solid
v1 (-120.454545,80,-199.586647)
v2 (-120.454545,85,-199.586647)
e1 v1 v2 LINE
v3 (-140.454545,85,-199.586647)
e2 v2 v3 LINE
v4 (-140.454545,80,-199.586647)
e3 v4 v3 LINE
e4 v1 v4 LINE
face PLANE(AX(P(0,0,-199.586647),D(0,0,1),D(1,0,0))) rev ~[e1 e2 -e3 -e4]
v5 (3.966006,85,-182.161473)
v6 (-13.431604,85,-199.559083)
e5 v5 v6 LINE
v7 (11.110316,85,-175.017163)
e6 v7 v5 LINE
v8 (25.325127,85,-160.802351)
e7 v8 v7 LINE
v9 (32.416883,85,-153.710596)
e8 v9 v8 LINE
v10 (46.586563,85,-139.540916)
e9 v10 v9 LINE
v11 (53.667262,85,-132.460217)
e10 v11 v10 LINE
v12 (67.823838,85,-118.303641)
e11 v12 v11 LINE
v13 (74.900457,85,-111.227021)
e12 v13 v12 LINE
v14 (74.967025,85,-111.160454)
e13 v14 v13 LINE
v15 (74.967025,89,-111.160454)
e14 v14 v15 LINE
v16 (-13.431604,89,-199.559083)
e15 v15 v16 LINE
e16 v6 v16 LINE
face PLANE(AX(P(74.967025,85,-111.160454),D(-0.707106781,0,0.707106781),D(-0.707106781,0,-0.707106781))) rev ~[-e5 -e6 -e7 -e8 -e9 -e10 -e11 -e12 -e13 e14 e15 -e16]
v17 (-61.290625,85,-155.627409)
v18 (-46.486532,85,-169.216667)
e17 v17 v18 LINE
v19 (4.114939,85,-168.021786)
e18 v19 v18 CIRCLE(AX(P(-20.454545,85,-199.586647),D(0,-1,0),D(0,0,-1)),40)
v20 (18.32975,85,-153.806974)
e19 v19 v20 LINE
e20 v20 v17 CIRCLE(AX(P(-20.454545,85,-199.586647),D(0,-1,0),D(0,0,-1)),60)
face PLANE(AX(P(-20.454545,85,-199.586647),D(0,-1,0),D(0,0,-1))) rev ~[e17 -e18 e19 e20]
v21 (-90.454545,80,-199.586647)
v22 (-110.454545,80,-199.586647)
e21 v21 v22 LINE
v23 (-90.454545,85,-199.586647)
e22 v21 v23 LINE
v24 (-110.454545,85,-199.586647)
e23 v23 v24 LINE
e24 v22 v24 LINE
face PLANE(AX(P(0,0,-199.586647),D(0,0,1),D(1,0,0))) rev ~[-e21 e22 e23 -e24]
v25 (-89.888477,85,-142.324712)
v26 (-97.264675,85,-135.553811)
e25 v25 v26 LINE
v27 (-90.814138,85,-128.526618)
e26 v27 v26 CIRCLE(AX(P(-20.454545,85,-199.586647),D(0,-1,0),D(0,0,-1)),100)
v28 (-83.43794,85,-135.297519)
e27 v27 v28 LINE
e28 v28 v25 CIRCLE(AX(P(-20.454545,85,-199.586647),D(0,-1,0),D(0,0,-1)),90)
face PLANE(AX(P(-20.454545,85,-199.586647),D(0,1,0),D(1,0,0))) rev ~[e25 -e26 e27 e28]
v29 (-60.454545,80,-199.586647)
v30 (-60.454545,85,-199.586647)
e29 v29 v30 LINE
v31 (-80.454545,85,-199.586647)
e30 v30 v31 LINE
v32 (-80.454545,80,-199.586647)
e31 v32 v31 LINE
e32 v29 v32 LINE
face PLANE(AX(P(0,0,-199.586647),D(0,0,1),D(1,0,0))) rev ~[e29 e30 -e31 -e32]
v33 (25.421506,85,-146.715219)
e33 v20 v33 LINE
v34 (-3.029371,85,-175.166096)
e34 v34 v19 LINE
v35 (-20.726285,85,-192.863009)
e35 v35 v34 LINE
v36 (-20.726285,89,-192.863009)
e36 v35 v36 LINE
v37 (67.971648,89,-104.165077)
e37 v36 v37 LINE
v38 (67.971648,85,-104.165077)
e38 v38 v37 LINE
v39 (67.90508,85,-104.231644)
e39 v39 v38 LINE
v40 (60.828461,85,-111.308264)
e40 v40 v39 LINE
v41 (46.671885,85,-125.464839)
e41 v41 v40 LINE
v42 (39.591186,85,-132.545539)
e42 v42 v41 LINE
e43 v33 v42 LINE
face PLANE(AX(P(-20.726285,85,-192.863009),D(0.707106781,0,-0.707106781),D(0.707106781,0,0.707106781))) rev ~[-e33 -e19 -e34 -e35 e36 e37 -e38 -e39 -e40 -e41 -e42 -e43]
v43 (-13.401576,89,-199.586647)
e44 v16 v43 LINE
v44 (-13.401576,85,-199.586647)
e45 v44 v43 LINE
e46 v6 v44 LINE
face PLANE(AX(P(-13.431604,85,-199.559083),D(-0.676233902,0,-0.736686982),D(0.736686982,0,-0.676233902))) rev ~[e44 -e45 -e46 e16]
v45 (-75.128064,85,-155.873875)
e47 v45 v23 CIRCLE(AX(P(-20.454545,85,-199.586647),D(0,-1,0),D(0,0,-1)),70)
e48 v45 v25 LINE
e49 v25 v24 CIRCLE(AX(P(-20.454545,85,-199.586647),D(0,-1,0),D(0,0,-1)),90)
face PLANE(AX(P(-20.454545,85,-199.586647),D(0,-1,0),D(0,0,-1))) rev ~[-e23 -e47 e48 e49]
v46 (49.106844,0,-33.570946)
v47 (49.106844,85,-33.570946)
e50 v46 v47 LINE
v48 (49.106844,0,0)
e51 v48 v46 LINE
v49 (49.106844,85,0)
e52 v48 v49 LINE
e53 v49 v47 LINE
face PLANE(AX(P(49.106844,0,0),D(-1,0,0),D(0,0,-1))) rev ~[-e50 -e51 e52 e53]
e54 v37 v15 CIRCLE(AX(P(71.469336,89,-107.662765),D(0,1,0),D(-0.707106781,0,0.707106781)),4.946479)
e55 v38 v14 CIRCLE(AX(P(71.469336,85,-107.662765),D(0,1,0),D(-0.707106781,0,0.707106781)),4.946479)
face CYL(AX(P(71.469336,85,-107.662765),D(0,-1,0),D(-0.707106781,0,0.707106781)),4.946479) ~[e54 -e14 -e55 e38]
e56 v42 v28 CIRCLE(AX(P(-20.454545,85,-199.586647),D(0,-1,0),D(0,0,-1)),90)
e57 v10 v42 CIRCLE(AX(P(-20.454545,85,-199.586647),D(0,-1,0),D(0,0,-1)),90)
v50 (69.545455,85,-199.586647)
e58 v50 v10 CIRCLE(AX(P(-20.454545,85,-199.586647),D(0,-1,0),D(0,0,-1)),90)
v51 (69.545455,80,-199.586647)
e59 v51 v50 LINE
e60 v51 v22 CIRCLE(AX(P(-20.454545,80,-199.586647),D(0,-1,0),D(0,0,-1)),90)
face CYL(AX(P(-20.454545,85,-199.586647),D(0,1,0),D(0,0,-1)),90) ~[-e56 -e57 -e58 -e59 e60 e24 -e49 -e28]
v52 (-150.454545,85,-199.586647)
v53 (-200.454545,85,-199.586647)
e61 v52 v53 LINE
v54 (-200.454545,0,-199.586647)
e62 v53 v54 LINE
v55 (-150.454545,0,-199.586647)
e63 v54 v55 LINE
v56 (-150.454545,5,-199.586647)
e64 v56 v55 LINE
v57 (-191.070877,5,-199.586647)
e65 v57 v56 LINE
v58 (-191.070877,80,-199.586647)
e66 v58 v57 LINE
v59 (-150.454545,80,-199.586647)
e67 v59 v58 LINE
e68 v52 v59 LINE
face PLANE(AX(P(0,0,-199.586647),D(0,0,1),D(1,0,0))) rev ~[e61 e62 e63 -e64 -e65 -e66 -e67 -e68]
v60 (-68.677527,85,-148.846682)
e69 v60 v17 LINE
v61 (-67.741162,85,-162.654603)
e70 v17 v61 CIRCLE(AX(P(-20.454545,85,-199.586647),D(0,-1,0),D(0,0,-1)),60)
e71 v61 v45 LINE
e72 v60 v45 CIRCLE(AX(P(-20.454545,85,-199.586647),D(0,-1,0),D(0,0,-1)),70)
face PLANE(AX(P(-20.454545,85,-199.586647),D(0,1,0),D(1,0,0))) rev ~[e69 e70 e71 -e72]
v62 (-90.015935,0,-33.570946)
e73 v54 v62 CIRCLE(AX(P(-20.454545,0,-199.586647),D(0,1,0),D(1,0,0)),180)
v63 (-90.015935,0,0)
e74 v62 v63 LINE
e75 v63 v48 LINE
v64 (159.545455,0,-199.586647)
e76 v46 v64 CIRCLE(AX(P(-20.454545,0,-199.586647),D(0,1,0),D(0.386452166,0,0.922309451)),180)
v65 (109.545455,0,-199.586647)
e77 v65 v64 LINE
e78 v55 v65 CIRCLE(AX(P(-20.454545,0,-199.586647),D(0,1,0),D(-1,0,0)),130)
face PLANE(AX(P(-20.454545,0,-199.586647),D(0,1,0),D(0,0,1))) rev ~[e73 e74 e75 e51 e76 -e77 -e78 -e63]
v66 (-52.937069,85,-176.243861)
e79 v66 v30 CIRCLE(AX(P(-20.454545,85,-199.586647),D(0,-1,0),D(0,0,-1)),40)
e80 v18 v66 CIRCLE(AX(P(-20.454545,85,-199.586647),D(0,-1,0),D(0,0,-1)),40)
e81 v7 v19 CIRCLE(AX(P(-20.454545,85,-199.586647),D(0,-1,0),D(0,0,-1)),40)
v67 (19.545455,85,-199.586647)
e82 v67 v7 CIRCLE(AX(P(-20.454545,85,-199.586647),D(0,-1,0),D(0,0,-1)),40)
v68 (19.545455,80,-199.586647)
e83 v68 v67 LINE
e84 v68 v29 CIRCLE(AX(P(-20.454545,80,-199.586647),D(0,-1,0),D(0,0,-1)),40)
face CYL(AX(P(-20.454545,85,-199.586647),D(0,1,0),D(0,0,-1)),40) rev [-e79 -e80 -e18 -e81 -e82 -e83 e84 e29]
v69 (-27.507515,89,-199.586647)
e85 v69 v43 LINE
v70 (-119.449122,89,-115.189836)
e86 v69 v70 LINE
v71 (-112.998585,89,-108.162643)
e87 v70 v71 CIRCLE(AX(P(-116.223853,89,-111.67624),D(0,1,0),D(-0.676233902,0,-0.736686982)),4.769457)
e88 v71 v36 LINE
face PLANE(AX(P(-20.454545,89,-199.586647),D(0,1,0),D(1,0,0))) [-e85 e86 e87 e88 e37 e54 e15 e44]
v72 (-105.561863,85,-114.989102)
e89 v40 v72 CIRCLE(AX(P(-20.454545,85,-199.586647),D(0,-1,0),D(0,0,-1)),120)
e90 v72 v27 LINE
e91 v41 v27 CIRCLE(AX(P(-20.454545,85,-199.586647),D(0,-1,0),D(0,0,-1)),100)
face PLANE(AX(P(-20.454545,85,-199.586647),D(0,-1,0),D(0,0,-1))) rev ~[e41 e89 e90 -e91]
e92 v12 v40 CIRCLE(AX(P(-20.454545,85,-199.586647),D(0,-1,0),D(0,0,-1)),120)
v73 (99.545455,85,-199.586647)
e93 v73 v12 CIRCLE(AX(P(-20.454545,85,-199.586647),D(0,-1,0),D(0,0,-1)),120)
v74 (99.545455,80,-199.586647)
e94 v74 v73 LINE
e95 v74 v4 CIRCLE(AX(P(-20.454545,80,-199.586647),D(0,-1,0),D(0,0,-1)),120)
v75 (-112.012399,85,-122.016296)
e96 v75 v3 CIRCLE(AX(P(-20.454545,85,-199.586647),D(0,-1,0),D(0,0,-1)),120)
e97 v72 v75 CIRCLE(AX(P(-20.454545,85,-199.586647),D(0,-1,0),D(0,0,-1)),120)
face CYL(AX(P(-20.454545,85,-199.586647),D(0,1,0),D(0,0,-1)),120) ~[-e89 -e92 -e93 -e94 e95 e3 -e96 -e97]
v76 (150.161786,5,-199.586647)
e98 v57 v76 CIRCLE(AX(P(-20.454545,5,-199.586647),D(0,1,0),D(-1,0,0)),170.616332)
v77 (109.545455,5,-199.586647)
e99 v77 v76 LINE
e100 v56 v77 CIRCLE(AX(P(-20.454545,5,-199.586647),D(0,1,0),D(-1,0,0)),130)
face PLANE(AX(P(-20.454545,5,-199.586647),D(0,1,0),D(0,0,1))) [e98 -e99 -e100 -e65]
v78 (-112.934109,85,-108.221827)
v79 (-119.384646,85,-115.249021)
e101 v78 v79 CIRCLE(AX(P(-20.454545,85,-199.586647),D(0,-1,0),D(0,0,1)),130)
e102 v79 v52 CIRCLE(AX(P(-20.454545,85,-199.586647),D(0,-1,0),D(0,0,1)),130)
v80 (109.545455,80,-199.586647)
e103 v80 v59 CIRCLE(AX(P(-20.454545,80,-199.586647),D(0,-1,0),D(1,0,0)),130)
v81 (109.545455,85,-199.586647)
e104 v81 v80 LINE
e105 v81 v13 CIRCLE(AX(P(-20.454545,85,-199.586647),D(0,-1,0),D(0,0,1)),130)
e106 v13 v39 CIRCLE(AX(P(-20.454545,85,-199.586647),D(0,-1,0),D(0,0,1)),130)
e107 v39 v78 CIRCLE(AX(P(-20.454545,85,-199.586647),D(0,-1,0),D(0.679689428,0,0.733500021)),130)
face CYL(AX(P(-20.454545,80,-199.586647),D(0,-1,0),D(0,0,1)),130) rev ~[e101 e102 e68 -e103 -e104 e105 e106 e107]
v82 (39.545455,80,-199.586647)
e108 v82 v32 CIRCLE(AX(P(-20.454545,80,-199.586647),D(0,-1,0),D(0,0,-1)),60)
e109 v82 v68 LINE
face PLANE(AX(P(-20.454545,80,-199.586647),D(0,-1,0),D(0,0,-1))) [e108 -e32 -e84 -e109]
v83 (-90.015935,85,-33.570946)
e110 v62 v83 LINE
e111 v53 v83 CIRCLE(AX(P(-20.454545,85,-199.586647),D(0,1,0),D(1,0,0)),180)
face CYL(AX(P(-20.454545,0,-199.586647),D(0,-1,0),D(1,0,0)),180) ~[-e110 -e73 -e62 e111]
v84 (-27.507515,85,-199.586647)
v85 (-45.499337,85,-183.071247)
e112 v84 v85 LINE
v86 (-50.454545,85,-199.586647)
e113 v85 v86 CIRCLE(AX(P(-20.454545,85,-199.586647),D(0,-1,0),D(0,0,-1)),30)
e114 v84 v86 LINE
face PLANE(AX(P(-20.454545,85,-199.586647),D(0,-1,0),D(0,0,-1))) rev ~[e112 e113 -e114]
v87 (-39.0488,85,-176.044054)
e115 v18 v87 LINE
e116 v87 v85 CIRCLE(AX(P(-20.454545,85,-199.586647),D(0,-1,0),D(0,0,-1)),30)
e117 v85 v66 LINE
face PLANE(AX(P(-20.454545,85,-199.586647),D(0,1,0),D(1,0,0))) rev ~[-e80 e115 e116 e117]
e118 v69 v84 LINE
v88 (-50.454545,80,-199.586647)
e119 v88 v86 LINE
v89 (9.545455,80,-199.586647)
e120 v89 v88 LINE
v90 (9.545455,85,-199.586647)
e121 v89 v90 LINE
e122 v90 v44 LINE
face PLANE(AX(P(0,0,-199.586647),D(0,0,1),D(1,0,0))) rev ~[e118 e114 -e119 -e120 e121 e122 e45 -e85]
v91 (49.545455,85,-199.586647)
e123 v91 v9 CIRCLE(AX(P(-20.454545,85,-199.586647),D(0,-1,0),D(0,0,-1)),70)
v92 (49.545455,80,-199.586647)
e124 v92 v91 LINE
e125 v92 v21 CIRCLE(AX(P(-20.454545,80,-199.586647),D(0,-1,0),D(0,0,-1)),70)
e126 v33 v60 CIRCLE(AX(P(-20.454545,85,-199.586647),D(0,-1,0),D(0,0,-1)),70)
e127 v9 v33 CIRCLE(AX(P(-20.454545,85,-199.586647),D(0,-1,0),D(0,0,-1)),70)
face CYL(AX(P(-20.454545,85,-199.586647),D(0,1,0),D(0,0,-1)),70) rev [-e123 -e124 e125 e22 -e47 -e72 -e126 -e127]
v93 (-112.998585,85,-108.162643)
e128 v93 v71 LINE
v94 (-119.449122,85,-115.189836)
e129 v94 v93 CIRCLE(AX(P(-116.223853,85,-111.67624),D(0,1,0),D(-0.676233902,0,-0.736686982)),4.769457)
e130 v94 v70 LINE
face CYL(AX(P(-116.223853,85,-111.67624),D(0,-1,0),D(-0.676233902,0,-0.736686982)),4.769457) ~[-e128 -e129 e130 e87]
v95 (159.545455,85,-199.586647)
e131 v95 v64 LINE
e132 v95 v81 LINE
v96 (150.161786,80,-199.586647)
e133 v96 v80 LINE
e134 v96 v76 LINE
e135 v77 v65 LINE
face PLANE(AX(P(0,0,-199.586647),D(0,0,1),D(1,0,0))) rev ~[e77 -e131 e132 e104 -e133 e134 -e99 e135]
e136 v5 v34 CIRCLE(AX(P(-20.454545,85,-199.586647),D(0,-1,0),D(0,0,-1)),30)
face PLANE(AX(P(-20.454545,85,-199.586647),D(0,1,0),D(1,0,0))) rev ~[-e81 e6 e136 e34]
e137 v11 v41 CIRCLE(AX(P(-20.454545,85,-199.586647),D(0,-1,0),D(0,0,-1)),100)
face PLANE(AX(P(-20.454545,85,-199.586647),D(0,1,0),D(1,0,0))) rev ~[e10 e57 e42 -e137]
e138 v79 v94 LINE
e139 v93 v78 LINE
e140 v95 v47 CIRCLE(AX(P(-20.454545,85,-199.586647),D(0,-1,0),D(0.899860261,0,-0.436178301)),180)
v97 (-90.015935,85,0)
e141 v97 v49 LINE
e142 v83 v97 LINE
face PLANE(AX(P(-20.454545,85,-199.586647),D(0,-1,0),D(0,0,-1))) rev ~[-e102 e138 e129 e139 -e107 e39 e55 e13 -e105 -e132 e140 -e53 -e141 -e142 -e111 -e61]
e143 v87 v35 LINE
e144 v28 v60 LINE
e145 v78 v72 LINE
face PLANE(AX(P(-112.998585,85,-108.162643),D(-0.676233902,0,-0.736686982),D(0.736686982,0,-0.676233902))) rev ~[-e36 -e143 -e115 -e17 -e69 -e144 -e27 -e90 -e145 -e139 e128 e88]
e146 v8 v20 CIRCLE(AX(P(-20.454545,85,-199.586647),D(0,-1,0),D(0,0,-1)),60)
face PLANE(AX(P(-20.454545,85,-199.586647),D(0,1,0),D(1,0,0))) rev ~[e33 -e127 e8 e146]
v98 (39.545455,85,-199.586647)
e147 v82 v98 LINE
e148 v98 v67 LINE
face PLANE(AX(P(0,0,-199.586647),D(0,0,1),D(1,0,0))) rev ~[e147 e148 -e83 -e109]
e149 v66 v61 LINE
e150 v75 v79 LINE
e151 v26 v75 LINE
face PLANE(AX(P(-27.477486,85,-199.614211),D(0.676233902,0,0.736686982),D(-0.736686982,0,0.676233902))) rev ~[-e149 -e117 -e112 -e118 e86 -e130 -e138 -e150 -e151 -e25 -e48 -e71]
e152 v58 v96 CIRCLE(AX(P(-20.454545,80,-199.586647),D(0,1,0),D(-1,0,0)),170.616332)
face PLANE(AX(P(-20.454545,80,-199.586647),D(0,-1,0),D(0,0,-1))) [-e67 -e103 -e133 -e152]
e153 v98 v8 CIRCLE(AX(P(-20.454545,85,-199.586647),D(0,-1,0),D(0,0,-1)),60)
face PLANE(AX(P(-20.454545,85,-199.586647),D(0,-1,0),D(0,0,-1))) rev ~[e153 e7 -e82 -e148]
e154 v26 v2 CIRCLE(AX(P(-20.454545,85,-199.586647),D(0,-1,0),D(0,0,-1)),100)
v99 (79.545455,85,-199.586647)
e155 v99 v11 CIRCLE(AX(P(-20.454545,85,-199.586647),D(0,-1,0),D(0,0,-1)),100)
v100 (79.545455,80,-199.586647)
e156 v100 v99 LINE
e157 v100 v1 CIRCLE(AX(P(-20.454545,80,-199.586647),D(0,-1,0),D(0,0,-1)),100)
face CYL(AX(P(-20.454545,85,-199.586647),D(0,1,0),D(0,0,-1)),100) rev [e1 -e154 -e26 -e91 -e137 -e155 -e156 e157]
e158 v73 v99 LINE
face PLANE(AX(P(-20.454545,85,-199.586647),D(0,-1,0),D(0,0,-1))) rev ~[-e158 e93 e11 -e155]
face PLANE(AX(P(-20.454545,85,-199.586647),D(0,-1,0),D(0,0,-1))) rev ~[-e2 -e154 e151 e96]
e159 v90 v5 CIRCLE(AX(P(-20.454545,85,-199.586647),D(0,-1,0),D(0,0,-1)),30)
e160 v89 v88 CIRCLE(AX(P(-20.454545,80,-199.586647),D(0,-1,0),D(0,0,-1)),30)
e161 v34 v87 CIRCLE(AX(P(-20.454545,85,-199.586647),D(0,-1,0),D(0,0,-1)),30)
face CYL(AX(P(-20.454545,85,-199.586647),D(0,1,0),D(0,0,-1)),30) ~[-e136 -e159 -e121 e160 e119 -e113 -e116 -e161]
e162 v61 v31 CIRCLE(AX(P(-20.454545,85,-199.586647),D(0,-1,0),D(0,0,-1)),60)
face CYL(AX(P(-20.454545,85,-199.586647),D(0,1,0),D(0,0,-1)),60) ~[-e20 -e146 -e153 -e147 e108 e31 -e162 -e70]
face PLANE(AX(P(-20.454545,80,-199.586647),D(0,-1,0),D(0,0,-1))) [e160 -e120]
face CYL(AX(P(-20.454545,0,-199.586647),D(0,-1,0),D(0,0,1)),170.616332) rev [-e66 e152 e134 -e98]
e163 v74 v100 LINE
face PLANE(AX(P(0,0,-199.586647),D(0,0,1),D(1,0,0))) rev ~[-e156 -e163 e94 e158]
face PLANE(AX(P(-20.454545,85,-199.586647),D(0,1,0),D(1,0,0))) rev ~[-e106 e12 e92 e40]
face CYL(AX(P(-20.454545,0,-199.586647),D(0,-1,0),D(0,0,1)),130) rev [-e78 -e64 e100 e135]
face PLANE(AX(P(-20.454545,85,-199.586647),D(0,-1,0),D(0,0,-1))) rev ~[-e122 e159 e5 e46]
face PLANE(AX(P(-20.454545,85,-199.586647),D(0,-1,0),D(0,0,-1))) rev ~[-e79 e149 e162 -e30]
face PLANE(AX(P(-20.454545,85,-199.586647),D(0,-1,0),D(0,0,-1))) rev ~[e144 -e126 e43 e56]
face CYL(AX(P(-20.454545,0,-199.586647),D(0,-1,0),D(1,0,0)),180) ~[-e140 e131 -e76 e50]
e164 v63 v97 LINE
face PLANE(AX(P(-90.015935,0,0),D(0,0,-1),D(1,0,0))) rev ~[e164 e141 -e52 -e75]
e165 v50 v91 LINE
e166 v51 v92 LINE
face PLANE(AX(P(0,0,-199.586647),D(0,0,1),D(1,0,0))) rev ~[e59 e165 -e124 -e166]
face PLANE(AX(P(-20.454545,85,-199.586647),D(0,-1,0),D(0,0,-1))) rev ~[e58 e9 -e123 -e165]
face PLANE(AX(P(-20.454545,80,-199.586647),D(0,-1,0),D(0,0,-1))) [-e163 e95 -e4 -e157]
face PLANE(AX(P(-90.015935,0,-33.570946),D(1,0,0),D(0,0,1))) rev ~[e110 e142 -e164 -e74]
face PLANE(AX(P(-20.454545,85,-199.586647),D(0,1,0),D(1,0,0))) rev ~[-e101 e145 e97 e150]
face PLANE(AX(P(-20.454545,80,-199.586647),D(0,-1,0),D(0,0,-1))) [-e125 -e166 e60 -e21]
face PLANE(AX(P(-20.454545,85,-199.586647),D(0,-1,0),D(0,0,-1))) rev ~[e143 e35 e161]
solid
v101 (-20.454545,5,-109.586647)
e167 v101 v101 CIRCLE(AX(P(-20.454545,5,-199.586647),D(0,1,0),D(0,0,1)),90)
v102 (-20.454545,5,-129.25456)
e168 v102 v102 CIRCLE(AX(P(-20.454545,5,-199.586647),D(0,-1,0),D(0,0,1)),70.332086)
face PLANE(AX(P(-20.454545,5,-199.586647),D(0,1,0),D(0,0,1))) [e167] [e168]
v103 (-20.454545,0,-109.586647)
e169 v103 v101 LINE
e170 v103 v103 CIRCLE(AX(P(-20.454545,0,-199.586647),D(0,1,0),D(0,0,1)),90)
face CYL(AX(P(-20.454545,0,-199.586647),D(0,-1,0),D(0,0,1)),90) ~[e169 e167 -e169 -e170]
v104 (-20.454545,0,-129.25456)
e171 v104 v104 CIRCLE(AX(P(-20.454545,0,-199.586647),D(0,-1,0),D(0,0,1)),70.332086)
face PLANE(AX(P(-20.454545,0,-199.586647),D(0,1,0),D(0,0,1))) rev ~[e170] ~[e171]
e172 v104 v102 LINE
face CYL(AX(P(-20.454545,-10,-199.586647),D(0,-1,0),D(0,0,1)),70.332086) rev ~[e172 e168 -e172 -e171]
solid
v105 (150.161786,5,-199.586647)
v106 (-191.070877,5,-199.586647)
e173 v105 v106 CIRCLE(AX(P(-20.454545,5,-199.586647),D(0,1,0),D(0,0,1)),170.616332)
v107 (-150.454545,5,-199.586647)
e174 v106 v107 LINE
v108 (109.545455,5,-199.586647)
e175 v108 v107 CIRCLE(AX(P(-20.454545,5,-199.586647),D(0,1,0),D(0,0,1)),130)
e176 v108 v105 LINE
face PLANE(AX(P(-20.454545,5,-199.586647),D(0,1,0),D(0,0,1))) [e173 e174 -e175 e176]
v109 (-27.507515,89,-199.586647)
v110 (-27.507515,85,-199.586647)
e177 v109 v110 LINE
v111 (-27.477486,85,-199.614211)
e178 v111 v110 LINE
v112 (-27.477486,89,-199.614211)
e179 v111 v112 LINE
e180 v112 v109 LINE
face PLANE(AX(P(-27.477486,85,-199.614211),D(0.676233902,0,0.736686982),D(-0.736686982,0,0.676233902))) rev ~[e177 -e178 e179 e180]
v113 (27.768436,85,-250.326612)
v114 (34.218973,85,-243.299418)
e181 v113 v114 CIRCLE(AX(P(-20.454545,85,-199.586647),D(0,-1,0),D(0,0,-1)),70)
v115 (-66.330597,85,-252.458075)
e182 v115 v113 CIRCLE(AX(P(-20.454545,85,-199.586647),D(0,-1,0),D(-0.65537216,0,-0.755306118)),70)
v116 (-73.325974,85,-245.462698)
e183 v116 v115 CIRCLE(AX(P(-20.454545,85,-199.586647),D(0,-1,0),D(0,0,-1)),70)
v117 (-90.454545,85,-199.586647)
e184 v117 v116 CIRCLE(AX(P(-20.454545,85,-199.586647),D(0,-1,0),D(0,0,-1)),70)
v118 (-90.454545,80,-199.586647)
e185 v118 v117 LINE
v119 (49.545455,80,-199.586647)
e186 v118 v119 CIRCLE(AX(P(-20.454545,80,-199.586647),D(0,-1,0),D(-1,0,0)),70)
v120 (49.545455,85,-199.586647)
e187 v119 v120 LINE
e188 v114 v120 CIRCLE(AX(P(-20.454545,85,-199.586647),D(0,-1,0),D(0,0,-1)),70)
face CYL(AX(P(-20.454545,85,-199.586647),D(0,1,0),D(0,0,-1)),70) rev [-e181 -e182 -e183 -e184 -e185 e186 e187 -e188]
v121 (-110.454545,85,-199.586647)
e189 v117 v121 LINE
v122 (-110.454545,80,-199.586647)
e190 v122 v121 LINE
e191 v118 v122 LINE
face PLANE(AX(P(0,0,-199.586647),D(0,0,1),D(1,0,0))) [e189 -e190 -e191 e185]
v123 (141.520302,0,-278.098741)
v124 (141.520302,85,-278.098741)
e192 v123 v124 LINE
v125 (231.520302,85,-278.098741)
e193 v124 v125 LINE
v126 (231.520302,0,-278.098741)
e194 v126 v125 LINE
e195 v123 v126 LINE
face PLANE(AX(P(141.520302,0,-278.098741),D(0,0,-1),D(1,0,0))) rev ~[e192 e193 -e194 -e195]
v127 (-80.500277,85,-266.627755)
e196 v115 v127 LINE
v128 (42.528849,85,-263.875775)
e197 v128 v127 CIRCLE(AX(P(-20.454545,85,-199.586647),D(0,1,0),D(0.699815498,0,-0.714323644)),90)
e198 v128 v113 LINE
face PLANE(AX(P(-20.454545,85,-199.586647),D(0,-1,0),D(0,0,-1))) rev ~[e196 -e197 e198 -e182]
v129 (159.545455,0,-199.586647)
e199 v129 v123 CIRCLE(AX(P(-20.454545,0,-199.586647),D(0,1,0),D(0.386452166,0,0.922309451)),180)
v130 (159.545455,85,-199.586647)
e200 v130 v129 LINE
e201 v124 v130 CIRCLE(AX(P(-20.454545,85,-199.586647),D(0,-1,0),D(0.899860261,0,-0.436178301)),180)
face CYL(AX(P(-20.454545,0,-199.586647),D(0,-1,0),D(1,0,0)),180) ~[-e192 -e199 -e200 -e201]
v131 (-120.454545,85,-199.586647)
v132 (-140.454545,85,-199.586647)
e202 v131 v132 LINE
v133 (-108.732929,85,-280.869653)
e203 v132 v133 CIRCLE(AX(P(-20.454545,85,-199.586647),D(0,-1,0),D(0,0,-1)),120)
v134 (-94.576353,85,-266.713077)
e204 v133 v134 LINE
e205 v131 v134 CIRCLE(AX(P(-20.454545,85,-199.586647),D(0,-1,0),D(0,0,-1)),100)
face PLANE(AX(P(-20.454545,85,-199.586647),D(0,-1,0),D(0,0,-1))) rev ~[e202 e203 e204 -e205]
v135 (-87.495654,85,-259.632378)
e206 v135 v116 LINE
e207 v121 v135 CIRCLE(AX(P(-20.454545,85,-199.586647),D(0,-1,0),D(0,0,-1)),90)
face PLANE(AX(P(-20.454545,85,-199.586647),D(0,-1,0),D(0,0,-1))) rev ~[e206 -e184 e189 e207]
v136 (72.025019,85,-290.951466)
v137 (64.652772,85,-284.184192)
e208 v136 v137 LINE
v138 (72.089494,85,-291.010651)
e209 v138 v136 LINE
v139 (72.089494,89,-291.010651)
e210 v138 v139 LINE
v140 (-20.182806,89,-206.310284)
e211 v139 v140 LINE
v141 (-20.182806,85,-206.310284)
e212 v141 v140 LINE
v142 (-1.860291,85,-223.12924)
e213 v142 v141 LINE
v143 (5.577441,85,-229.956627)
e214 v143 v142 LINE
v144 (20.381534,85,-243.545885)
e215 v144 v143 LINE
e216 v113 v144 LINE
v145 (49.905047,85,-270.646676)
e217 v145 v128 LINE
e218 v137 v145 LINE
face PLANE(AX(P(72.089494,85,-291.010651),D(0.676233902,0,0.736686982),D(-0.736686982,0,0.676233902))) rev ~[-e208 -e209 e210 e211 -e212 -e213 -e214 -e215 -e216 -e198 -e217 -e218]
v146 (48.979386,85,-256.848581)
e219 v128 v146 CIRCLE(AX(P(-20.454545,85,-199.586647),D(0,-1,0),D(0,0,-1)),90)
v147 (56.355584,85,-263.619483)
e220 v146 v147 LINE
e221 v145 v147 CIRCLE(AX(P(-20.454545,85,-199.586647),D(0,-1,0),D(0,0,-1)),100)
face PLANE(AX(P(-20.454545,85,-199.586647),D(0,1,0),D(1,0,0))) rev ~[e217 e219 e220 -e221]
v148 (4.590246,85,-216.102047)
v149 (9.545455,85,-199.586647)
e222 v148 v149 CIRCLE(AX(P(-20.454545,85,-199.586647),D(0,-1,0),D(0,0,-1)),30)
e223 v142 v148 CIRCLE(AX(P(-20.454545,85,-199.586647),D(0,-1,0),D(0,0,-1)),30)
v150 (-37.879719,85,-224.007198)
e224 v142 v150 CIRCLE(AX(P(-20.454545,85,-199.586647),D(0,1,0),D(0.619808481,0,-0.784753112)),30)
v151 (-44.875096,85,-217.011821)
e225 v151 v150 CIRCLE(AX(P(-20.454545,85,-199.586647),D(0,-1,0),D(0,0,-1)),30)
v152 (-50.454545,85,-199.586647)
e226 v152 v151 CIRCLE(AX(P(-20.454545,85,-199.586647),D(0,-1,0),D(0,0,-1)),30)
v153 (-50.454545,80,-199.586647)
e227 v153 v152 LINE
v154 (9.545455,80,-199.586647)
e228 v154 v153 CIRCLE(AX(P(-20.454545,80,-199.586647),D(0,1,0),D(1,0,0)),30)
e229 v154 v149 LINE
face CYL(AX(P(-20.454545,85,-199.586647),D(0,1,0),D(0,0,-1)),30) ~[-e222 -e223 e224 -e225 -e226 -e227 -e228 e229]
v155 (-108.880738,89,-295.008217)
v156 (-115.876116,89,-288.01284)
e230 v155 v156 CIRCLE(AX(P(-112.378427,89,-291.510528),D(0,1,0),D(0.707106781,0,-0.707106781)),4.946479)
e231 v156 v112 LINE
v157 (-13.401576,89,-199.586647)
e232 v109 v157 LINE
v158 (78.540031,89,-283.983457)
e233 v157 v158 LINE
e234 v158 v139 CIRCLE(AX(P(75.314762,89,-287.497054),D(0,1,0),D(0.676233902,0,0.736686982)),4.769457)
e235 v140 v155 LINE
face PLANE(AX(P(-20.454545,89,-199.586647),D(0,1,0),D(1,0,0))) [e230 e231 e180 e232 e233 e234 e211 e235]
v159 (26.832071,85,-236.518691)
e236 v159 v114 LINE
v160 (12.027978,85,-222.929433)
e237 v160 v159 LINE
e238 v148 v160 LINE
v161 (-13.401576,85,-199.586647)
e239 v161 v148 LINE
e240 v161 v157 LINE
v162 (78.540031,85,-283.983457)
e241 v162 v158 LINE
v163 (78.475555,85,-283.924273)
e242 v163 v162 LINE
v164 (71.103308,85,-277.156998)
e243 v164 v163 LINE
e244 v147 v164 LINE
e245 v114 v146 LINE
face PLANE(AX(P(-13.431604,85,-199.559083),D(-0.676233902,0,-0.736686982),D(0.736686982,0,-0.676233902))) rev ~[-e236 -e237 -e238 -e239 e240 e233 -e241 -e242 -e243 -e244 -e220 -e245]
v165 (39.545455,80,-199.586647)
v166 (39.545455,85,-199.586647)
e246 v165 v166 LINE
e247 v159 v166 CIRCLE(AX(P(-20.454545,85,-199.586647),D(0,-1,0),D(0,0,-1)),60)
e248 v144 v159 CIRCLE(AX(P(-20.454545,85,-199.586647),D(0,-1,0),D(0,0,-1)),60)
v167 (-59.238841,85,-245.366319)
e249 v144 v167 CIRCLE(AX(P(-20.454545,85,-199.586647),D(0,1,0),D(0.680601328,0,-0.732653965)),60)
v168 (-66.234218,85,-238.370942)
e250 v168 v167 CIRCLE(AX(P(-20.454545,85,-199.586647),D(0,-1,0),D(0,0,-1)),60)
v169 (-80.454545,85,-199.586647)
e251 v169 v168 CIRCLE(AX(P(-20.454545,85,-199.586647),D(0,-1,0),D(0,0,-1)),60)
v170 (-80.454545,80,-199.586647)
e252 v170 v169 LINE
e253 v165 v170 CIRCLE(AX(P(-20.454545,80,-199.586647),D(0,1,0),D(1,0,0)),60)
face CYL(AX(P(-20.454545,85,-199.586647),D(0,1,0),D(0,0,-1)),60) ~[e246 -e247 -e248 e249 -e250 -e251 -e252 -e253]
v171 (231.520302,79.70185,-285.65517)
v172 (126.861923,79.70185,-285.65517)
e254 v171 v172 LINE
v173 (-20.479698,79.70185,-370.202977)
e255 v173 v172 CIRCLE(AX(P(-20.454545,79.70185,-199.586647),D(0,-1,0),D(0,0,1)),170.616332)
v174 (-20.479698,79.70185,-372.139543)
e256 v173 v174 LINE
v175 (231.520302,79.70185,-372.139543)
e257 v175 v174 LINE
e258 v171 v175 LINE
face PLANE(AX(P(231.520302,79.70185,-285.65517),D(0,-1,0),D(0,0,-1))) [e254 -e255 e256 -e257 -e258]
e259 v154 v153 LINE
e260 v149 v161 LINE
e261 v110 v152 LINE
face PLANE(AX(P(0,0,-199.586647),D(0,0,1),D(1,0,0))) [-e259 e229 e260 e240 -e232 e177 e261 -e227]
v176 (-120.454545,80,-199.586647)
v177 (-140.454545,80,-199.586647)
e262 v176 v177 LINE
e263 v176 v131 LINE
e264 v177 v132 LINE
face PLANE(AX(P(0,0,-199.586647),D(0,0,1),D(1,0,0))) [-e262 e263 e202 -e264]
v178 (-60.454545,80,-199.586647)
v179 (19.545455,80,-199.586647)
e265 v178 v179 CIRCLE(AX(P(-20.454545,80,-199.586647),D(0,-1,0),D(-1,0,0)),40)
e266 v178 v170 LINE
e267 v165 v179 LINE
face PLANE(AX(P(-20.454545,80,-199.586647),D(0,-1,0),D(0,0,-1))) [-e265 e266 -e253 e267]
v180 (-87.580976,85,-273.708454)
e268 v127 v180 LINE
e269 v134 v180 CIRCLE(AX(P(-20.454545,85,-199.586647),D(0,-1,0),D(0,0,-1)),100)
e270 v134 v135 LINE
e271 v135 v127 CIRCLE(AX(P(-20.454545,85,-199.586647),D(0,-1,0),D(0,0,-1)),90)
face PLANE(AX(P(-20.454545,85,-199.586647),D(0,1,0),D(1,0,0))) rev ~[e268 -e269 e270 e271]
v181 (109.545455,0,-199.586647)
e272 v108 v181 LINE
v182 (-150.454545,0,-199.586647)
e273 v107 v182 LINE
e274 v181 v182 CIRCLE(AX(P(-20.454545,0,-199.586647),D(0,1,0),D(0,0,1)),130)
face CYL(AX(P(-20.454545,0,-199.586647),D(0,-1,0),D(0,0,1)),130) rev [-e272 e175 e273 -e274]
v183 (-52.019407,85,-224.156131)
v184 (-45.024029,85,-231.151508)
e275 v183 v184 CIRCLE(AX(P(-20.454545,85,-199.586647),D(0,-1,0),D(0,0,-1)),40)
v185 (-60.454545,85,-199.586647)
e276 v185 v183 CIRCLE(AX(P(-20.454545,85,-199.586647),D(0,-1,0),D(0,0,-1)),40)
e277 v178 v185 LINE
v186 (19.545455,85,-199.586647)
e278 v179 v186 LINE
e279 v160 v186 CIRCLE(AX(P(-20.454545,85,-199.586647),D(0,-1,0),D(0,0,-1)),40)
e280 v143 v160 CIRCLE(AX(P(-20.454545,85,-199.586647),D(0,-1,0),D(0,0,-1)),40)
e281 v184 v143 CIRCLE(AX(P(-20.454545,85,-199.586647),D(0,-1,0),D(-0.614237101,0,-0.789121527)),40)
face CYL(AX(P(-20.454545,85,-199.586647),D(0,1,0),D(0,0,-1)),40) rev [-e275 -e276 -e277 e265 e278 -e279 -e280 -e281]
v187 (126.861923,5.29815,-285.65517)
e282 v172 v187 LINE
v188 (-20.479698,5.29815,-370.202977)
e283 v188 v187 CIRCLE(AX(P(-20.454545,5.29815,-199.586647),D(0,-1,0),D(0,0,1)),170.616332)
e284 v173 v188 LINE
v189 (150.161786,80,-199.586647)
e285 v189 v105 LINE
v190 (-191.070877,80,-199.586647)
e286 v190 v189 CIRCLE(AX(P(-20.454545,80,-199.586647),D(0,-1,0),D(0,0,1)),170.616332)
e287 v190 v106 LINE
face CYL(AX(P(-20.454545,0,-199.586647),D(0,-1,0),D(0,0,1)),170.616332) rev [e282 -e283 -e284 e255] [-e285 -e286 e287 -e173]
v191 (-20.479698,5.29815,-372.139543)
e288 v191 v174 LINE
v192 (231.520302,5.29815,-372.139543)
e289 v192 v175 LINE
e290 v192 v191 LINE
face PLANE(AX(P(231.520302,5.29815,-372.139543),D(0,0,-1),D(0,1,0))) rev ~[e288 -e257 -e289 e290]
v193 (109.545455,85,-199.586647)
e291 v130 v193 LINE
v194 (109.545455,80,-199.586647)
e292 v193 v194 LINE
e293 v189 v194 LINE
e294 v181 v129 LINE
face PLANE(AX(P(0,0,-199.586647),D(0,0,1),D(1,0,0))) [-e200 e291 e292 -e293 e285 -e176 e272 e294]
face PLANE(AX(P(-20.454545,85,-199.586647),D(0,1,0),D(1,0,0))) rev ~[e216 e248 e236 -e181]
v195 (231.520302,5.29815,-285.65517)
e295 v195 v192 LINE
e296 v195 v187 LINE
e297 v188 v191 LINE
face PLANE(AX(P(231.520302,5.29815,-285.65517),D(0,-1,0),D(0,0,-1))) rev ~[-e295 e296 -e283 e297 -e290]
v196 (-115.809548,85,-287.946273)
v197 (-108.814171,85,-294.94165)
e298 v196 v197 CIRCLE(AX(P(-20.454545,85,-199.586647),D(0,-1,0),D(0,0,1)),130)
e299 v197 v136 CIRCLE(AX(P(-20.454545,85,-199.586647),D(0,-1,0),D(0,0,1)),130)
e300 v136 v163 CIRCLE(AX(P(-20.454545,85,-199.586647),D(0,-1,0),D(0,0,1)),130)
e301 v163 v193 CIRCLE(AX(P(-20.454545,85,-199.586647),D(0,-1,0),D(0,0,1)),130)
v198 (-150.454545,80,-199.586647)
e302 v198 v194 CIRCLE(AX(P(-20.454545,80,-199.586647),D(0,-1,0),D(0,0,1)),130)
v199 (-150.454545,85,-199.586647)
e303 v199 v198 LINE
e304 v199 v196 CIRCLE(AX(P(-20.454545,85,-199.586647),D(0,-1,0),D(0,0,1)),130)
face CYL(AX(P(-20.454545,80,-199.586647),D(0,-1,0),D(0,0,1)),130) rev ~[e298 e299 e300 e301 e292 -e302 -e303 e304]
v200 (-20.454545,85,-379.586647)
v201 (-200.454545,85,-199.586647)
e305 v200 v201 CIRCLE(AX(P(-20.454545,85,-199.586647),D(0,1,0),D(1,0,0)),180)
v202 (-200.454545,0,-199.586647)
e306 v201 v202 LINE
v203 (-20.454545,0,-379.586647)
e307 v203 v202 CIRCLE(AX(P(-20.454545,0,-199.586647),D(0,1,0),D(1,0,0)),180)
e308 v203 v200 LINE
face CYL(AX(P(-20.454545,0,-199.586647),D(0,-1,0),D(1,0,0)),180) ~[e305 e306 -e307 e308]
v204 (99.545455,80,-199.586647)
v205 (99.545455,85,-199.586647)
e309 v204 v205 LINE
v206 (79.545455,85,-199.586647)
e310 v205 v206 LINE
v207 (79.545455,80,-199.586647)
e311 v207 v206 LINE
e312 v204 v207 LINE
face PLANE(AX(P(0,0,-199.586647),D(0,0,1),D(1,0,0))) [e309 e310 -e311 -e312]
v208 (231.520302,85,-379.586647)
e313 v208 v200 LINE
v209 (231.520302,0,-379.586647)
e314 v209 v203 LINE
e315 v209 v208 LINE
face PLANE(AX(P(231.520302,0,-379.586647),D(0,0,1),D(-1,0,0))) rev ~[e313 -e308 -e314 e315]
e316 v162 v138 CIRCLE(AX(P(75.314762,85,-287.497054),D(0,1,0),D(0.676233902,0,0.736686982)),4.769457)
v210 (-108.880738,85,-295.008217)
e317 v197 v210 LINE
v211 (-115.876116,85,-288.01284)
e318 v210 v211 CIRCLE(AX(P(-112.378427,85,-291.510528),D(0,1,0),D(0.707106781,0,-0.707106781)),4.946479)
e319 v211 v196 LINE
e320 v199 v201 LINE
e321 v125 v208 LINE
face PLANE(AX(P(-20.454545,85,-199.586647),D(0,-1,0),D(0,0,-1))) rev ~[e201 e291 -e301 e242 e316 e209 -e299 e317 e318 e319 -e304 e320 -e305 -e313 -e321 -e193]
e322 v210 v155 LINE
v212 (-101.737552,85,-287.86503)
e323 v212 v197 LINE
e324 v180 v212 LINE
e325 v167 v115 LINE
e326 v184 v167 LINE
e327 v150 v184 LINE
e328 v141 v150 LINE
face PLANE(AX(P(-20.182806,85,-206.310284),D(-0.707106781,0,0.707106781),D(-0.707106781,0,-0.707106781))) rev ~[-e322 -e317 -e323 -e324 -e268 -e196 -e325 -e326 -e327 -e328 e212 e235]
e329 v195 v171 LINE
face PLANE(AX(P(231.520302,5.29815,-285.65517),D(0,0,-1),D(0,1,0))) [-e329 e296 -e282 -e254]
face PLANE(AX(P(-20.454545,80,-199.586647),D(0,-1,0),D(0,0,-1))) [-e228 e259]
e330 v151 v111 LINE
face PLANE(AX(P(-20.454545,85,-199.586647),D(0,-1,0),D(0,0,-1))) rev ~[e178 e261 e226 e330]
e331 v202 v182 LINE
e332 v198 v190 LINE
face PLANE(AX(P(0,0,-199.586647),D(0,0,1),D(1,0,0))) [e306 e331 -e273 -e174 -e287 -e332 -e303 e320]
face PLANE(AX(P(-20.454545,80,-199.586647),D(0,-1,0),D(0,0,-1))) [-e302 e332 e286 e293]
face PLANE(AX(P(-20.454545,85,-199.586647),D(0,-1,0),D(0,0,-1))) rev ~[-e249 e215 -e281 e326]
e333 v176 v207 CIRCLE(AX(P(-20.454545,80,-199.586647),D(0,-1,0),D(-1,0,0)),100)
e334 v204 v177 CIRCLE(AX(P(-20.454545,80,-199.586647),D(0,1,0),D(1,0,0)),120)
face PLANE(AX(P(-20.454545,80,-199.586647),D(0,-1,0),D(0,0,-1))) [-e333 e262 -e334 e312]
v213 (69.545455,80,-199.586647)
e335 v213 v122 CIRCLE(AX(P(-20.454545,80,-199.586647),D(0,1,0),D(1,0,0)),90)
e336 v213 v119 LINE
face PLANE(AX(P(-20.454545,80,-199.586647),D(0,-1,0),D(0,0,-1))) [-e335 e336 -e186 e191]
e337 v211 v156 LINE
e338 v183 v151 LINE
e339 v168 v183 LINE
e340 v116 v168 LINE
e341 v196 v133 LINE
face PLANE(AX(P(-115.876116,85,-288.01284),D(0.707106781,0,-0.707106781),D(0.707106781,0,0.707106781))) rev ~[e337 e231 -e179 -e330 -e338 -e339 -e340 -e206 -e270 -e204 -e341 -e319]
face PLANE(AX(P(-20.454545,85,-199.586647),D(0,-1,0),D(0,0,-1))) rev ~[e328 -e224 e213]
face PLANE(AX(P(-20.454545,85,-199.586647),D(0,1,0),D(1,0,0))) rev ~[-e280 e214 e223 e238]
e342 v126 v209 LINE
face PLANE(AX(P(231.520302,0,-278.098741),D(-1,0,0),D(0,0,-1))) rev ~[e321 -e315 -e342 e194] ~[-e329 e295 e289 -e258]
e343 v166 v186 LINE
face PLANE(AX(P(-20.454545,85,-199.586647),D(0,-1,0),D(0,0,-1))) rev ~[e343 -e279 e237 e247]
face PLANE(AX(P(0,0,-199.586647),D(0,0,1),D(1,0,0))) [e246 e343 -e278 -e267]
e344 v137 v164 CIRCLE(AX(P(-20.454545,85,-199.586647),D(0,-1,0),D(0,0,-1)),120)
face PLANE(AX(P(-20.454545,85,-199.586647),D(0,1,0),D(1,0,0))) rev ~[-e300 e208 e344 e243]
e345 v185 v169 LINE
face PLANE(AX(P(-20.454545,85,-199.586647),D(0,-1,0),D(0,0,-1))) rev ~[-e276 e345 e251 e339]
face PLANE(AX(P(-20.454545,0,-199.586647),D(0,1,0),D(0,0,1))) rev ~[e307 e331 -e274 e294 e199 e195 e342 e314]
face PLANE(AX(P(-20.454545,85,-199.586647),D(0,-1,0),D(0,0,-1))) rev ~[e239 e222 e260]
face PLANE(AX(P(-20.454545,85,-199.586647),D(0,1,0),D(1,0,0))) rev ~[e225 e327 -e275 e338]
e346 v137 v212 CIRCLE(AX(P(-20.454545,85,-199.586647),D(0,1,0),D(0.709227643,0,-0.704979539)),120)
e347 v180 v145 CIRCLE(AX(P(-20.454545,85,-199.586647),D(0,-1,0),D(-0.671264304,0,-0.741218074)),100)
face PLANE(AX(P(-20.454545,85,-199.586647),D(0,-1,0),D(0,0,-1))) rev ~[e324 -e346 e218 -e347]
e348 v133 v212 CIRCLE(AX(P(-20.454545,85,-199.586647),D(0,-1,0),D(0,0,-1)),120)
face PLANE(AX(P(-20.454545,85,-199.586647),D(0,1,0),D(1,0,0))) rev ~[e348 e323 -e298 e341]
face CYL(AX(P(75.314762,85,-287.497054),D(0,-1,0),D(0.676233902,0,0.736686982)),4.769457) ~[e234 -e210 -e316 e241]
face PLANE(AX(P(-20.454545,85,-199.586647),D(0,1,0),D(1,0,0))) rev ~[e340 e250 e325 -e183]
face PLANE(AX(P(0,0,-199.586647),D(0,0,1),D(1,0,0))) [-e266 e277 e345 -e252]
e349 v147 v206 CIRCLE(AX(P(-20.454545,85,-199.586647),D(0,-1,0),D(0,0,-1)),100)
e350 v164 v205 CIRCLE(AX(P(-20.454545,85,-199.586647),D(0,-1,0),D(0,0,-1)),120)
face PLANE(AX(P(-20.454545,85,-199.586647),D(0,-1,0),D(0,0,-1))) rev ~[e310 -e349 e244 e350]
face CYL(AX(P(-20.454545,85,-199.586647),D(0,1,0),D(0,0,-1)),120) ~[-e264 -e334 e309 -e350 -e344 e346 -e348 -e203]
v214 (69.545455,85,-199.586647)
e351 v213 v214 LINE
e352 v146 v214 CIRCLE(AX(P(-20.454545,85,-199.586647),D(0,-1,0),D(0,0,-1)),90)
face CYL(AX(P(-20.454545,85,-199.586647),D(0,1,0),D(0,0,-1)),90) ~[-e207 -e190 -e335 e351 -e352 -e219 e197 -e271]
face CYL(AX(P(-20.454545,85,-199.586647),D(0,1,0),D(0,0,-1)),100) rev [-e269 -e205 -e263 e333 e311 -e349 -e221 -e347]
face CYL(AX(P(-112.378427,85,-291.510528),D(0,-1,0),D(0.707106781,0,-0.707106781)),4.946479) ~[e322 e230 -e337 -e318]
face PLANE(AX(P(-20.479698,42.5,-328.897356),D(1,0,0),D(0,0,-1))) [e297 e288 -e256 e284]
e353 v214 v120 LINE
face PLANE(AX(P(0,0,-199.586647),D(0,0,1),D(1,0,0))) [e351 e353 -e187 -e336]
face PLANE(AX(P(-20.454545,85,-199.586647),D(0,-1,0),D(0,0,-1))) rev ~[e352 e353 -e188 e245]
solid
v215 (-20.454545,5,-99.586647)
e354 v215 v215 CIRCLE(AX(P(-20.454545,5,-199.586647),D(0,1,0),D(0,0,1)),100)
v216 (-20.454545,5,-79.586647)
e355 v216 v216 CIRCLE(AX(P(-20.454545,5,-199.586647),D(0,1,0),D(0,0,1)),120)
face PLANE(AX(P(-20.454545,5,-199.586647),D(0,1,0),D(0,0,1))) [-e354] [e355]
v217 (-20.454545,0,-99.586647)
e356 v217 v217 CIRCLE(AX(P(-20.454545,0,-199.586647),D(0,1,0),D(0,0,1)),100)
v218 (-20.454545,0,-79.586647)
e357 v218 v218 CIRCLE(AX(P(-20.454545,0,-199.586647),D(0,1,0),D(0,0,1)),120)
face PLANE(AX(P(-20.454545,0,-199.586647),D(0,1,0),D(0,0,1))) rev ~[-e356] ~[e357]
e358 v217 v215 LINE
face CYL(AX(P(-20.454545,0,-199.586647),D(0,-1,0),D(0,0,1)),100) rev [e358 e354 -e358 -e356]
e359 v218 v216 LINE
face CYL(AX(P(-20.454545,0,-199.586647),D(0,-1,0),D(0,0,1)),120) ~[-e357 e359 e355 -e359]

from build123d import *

# Parameters (mm, degrees)
SZKIC1_R                      = 180
SZKIC1_R_2                    = 170.616331517
DODANIE_WYCI_GNI_CIE2_DEPTH   = 85
SZKIC2_R                      = 170.616331517
SZKIC2_R_2                    = 130
DODANIE_WYCI_GNI_CIE3_DEPTH   = 5
DODANIE_WYCI_GNI_CIE6_START   = 5
SZKIC3_R                      = 170.616331517
SZKIC3_R_2                    = 130
DODANIE_WYCI_GNI_CIE6_DEPTH   = 5
SZKIC4_R                      = 120
SZKIC4_R_2                    = 100
DODANIE_WYCI_GNI_CIE7_DEPTH   = 5
SZKIC4_R_3                    = 90
SZKIC4_R_4                    = 70
DODANIE_WYCI_GNI_CIE7_2_DEPTH = 5
SZKIC4_R_5                    = 60
SZKIC4_R_6                    = 40
DODANIE_WYCI_GNI_CIE7_3_DEPTH = 5
SZKIC4_R_7                    = 30
DODANIE_WYCI_GNI_CIE7_4_DEPTH = 5
SZKIC5_R                      = 120
SZKIC5_R_2                    = 100
DODANIE_WYCI_GNI_CIE8_DEPTH   = 5
SZKIC5_R_3                    = 90
SZKIC5_R_4                    = 70
DODANIE_WYCI_GNI_CIE8_2_DEPTH = 5
SZKIC5_R_5                    = 60
SZKIC5_R_6                    = 40
DODANIE_WYCI_GNI_CIE8_3_DEPTH = 5
SZKIC5_R_7                    = 30
DODANIE_WYCI_GNI_CIE8_4_DEPTH = 5
SZKIC6_W                      = 86.484372842
SZKIC6_H                      = 74.403700188
WYTNIJ_WYCI_GNI_CIE2_DEPTH    = 252
DODANIE_WYCI_GNI_CIE9_DEPTH   = 4
SZKIC9_R                      = 70.332086469
WYTNIJ_WYCI_GNI_CIE4_DEPTH    = 20


with BuildPart() as part:
    # Szkic1 → Dodanie-wyciągnięcie2 (new body)
    # profile 1 of 3: a face of its own
    with BuildSketch(Plane(origin=(0, 0, 0), x_dir=(1, 0, 0), z_dir=(0, 1, 0))):
        with Locations((-20.454545455, 199.586646916)):
            Circle(SZKIC1_R)
        with Locations(Location((-20.454545455, 199.586646916, 0), (0, 0, 270))):
            Circle(SZKIC1_R_2, mode=Mode.SUBTRACT)
    # profile 2 of 3: a face of its own
    with BuildSketch(Plane(origin=(0, 0, 0), x_dir=(1, 0, 0), z_dir=(0, 1, 0))):
        with BuildLine():
            Line((231.520301567, 379.586646916), (-20.454545455, 379.586646916))
            ThreePointArc((-20.454545455, 379.586646916), (75.116954083, 352.118900804), (141.520301567, 278.098741096))
            Line((141.520301567, 278.098741096), (231.520301567, 278.098741096))
            Line((231.520301567, 278.098741096), (231.520301567, 379.586646916))
        make_face()
    # profile 3 of 3: a face of its own
    with BuildSketch(Plane(origin=(0, 0, 0), x_dir=(1, 0, 0), z_dir=(0, 1, 0))):
        with BuildLine():
            Line((-90.015935351, 0), (49.106844442, 0))
            Line((49.106844442, 0), (49.106844442, 33.570945744))
            ThreePointArc((49.106844442, 33.570945744), (-20.454545455, 19.586646916), (-90.015935351, 33.570945744))
            Line((-90.015935351, 33.570945744), (-90.015935351, 0))
        make_face()
    extrude(amount=DODANIE_WYCI_GNI_CIE2_DEPTH)

    # Szkic2 → Dodanie-wyciągnięcie3 (add)
    with BuildSketch(Plane(origin=(0, 0, 0), x_dir=(1, 0, 0), z_dir=(0, 1, 0))):
        with Locations(Location((-20.454545455, 199.586646916, 0), (0, 0, 270))):
            Circle(SZKIC2_R)
        with Locations(Location((-20.454545455, 199.586646916, 0), (0, 0, 270))):
            Circle(SZKIC2_R_2, mode=Mode.SUBTRACT)
    extrude(amount=DODANIE_WYCI_GNI_CIE3_DEPTH)

    # Szkic3 → Dodanie-wyciągnięcie6 (add)
    with BuildSketch(Plane(origin=(0, 85, 0), x_dir=(-1, 0, 0), z_dir=(0, -1, 0)).offset(DODANIE_WYCI_GNI_CIE6_START)):
        with Locations(Location((20.454545455, 199.586646916, 0), (0, 0, 90))):
            Circle(SZKIC3_R)
        with Locations(Location((20.454545455, 199.586646916, 0), (0, 0, 270))):
            Circle(SZKIC3_R_2, mode=Mode.SUBTRACT)
    extrude(amount=-DODANIE_WYCI_GNI_CIE6_DEPTH)

    # Szkic6 → Wytnij-wyciągnięcie2 (cut)
    with BuildSketch(Plane(origin=(231.520301567, 0, 0), x_dir=(0, 0, -1), z_dir=(1, 0, 0))):
        with Locations((328.897356387, 42.5)):
            Rectangle(SZKIC6_W, SZKIC6_H)
    extrude(amount=-WYTNIJ_WYCI_GNI_CIE2_DEPTH, mode=Mode.SUBTRACT)



with BuildPart() as body_2:
    # Szkic4 → Dodanie-wyciągnięcie7 (new body)
    with BuildSketch(Plane(origin=(0, 85, 0), x_dir=(-1, 0, 0), z_dir=(0, -1, 0))):
        with Locations(Location((20.454545455, 199.586646916, 0), (0, 0, 90))):
            Circle(SZKIC4_R)
        with Locations(Location((20.454545455, 199.586646916, 0), (0, 0, 90))):
            Circle(SZKIC4_R_2, mode=Mode.SUBTRACT)
    extrude(amount=DODANIE_WYCI_GNI_CIE7_DEPTH)


with BuildPart() as body_3:
    # Szkic4 → Dodanie-wyci_gni_cie7 2 (new body)
    with BuildSketch(Plane(origin=(0, 85, 0), x_dir=(-1, 0, 0), z_dir=(0, -1, 0))):
        with Locations(Location((20.454545455, 199.586646916, 0), (0, 0, 90))):
            Circle(SZKIC4_R_3)
        with Locations(Location((20.454545455, 199.586646916, 0), (0, 0, 90))):
            Circle(SZKIC4_R_4, mode=Mode.SUBTRACT)
    extrude(amount=DODANIE_WYCI_GNI_CIE7_2_DEPTH)


with BuildPart() as body_4:
    # Szkic4 → Dodanie-wyci_gni_cie7 3 (new body)
    with BuildSketch(Plane(origin=(0, 85, 0), x_dir=(-1, 0, 0), z_dir=(0, -1, 0))):
        with Locations(Location((20.454545455, 199.586646916, 0), (0, 0, 90))):
            Circle(SZKIC4_R_5)
        with Locations(Location((20.454545455, 199.586646916, 0), (0, 0, 90))):
            Circle(SZKIC4_R_6, mode=Mode.SUBTRACT)
    extrude(amount=DODANIE_WYCI_GNI_CIE7_3_DEPTH)


with BuildPart() as body_5:
    # Szkic4 → Dodanie-wyci_gni_cie7 4 (new body)
    with BuildSketch(Plane(origin=(0, 85, 0), x_dir=(-1, 0, 0), z_dir=(0, -1, 0))):
        with Locations(Location((20.454545455, 199.586646916, 0), (0, 0, 90))):
            Circle(SZKIC4_R_7)
    extrude(amount=DODANIE_WYCI_GNI_CIE7_4_DEPTH)


with BuildPart() as body_6:
    # Szkic5 → Dodanie-wyciągnięcie8 (new body)
    with BuildSketch(Plane(origin=(0, 0, 0), x_dir=(1, 0, 0), z_dir=(0, 1, 0))):
        with Locations(Location((-20.454545455, 199.586646916, 0), (0, 0, 270))):
            Circle(SZKIC5_R)
        with Locations(Location((-20.454545455, 199.586646916, 0), (0, 0, 270))):
            Circle(SZKIC5_R_2, mode=Mode.SUBTRACT)
    extrude(amount=DODANIE_WYCI_GNI_CIE8_DEPTH)


with BuildPart() as body_7:
    # Szkic5 → Dodanie-wyci_gni_cie8 2 (new body)
    with BuildSketch(Plane(origin=(0, 0, 0), x_dir=(1, 0, 0), z_dir=(0, 1, 0))):
        with Locations(Location((-20.454545455, 199.586646916, 0), (0, 0, 270))):
            Circle(SZKIC5_R_3)
        with Locations(Location((-20.454545455, 199.586646916, 0), (0, 0, 270))):
            Circle(SZKIC5_R_4, mode=Mode.SUBTRACT)
    extrude(amount=DODANIE_WYCI_GNI_CIE8_2_DEPTH)


with BuildPart() as body_8:
    # Szkic5 → Dodanie-wyci_gni_cie8 3 (new body)
    with BuildSketch(Plane(origin=(0, 0, 0), x_dir=(1, 0, 0), z_dir=(0, 1, 0))):
        with Locations(Location((-20.454545455, 199.586646916, 0), (0, 0, 270))):
            Circle(SZKIC5_R_5)
        with Locations(Location((-20.454545455, 199.586646916, 0), (0, 0, 270))):
            Circle(SZKIC5_R_6, mode=Mode.SUBTRACT)
    extrude(amount=DODANIE_WYCI_GNI_CIE8_3_DEPTH)


with BuildPart() as body_9:
    # Szkic5 → Dodanie-wyci_gni_cie8 4 (new body)
    with BuildSketch(Plane(origin=(0, 0, 0), x_dir=(1, 0, 0), z_dir=(0, 1, 0))):
        with Locations(Location((-20.454545455, 199.586646916, 0), (0, 0, 270))):
            Circle(SZKIC5_R_7)
    extrude(amount=DODANIE_WYCI_GNI_CIE8_4_DEPTH)


with BuildPart() as part_1:
    add(part.part)

    add(body_2.part)  # Dodanie-wyciągnięcie9 merges body 2

    add(body_3.part)  # Dodanie-wyciągnięcie9 merges body 3

    add(body_4.part)  # Dodanie-wyciągnięcie9 merges body 4

    add(body_5.part)  # Dodanie-wyciągnięcie9 merges body 5
    # Szkic8 → Dodanie-wyciągnięcie9 (add)
    with BuildSketch(Plane(origin=(0, 85, 0), x_dir=(-1, 0, 0), z_dir=(0, -1, 0))):
        with BuildLine():
            Line((-72.089493868, 291.010650899), (20.182805981, 206.310284476))
            Line((20.182805981, 206.310284476), (108.880738492, 295.008216987))
            ThreePointArc((108.880738492, 295.008216987), (115.876115525, 295.008216987), (115.876115525, 288.012839954))
            Line((115.876115525, 288.012839954), (27.477486462, 199.614210891))
            Line((27.477486462, 199.614210891), (119.449121567, 115.18983644))
            ThreePointArc((119.449121567, 115.18983644), (119.737449925, 108.450971291), (112.998584777, 108.162642933))
            Line((112.998584777, 108.162642933), (20.726284928, 192.863009356))
            Line((20.726284928, 192.863009356), (-67.971647583, 104.165076845))
            ThreePointArc((-67.971647583, 104.165076845), (-74.967024616, 104.165076845), (-74.967024616, 111.160453879))
            Line((-74.967024616, 111.160453879), (13.431604447, 199.559082942))
            Line((13.431604447, 199.559082942), (-78.540030658, 283.983457393))
            ThreePointArc((-78.540030658, 283.983457393), (-78.828359016, 290.722322541), (-72.089493868, 291.010650899))
        make_face()
    extrude(amount=-DODANIE_WYCI_GNI_CIE9_DEPTH)


with BuildPart() as wytnij_wyci_gni_cie4_tool:
    # Szkic9 → Wytnij-wyciągnięcie4 (new body)
    with BuildSketch(Plane(origin=(0, -10, 0), x_dir=(-1, 0, 0), z_dir=(0, -1, 0))):
        with Locations(Location((20.454545455, 199.586646916, 0), (0, 0, 270))):
            Circle(SZKIC9_R)
    extrude(amount=-WYTNIJ_WYCI_GNI_CIE4_DEPTH)


with BuildPart() as body_7_1:
    add(body_7.part)

    # Wytnij-wyciągnięcie4: cut by wytnij_wyci_gni_cie4_tool
    add(wytnij_wyci_gni_cie4_tool.part, mode=Mode.SUBTRACT)


with BuildPart() as body_8_1:
    add(body_8.part)

    # Wytnij-wyciągnięcie4: cut by wytnij_wyci_gni_cie4_tool
    add(wytnij_wyci_gni_cie4_tool.part, mode=Mode.SUBTRACT)


with BuildPart() as body_9_1:
    add(body_9.part)

    # Wytnij-wyciągnięcie4: cut by wytnij_wyci_gni_cie4_tool
    add(wytnij_wyci_gni_cie4_tool.part, mode=Mode.SUBTRACT)


with BuildPart() as body_4_2:
    # Podziel2: the piece on the far side of the plane
    add(part_1.part)
    split(bisect_by=Plane.XY.offset(-199.586646916), keep=Keep.BOTTOM)


with BuildPart() as part_2:
    add(part_1.part)

    # Podziel2
    split(bisect_by=Plane.XY.offset(-199.586646916), keep=Keep.TOP)


solid = Compound([body_6.part, body_7_1.part, body_4_2.part, part_2.part])
